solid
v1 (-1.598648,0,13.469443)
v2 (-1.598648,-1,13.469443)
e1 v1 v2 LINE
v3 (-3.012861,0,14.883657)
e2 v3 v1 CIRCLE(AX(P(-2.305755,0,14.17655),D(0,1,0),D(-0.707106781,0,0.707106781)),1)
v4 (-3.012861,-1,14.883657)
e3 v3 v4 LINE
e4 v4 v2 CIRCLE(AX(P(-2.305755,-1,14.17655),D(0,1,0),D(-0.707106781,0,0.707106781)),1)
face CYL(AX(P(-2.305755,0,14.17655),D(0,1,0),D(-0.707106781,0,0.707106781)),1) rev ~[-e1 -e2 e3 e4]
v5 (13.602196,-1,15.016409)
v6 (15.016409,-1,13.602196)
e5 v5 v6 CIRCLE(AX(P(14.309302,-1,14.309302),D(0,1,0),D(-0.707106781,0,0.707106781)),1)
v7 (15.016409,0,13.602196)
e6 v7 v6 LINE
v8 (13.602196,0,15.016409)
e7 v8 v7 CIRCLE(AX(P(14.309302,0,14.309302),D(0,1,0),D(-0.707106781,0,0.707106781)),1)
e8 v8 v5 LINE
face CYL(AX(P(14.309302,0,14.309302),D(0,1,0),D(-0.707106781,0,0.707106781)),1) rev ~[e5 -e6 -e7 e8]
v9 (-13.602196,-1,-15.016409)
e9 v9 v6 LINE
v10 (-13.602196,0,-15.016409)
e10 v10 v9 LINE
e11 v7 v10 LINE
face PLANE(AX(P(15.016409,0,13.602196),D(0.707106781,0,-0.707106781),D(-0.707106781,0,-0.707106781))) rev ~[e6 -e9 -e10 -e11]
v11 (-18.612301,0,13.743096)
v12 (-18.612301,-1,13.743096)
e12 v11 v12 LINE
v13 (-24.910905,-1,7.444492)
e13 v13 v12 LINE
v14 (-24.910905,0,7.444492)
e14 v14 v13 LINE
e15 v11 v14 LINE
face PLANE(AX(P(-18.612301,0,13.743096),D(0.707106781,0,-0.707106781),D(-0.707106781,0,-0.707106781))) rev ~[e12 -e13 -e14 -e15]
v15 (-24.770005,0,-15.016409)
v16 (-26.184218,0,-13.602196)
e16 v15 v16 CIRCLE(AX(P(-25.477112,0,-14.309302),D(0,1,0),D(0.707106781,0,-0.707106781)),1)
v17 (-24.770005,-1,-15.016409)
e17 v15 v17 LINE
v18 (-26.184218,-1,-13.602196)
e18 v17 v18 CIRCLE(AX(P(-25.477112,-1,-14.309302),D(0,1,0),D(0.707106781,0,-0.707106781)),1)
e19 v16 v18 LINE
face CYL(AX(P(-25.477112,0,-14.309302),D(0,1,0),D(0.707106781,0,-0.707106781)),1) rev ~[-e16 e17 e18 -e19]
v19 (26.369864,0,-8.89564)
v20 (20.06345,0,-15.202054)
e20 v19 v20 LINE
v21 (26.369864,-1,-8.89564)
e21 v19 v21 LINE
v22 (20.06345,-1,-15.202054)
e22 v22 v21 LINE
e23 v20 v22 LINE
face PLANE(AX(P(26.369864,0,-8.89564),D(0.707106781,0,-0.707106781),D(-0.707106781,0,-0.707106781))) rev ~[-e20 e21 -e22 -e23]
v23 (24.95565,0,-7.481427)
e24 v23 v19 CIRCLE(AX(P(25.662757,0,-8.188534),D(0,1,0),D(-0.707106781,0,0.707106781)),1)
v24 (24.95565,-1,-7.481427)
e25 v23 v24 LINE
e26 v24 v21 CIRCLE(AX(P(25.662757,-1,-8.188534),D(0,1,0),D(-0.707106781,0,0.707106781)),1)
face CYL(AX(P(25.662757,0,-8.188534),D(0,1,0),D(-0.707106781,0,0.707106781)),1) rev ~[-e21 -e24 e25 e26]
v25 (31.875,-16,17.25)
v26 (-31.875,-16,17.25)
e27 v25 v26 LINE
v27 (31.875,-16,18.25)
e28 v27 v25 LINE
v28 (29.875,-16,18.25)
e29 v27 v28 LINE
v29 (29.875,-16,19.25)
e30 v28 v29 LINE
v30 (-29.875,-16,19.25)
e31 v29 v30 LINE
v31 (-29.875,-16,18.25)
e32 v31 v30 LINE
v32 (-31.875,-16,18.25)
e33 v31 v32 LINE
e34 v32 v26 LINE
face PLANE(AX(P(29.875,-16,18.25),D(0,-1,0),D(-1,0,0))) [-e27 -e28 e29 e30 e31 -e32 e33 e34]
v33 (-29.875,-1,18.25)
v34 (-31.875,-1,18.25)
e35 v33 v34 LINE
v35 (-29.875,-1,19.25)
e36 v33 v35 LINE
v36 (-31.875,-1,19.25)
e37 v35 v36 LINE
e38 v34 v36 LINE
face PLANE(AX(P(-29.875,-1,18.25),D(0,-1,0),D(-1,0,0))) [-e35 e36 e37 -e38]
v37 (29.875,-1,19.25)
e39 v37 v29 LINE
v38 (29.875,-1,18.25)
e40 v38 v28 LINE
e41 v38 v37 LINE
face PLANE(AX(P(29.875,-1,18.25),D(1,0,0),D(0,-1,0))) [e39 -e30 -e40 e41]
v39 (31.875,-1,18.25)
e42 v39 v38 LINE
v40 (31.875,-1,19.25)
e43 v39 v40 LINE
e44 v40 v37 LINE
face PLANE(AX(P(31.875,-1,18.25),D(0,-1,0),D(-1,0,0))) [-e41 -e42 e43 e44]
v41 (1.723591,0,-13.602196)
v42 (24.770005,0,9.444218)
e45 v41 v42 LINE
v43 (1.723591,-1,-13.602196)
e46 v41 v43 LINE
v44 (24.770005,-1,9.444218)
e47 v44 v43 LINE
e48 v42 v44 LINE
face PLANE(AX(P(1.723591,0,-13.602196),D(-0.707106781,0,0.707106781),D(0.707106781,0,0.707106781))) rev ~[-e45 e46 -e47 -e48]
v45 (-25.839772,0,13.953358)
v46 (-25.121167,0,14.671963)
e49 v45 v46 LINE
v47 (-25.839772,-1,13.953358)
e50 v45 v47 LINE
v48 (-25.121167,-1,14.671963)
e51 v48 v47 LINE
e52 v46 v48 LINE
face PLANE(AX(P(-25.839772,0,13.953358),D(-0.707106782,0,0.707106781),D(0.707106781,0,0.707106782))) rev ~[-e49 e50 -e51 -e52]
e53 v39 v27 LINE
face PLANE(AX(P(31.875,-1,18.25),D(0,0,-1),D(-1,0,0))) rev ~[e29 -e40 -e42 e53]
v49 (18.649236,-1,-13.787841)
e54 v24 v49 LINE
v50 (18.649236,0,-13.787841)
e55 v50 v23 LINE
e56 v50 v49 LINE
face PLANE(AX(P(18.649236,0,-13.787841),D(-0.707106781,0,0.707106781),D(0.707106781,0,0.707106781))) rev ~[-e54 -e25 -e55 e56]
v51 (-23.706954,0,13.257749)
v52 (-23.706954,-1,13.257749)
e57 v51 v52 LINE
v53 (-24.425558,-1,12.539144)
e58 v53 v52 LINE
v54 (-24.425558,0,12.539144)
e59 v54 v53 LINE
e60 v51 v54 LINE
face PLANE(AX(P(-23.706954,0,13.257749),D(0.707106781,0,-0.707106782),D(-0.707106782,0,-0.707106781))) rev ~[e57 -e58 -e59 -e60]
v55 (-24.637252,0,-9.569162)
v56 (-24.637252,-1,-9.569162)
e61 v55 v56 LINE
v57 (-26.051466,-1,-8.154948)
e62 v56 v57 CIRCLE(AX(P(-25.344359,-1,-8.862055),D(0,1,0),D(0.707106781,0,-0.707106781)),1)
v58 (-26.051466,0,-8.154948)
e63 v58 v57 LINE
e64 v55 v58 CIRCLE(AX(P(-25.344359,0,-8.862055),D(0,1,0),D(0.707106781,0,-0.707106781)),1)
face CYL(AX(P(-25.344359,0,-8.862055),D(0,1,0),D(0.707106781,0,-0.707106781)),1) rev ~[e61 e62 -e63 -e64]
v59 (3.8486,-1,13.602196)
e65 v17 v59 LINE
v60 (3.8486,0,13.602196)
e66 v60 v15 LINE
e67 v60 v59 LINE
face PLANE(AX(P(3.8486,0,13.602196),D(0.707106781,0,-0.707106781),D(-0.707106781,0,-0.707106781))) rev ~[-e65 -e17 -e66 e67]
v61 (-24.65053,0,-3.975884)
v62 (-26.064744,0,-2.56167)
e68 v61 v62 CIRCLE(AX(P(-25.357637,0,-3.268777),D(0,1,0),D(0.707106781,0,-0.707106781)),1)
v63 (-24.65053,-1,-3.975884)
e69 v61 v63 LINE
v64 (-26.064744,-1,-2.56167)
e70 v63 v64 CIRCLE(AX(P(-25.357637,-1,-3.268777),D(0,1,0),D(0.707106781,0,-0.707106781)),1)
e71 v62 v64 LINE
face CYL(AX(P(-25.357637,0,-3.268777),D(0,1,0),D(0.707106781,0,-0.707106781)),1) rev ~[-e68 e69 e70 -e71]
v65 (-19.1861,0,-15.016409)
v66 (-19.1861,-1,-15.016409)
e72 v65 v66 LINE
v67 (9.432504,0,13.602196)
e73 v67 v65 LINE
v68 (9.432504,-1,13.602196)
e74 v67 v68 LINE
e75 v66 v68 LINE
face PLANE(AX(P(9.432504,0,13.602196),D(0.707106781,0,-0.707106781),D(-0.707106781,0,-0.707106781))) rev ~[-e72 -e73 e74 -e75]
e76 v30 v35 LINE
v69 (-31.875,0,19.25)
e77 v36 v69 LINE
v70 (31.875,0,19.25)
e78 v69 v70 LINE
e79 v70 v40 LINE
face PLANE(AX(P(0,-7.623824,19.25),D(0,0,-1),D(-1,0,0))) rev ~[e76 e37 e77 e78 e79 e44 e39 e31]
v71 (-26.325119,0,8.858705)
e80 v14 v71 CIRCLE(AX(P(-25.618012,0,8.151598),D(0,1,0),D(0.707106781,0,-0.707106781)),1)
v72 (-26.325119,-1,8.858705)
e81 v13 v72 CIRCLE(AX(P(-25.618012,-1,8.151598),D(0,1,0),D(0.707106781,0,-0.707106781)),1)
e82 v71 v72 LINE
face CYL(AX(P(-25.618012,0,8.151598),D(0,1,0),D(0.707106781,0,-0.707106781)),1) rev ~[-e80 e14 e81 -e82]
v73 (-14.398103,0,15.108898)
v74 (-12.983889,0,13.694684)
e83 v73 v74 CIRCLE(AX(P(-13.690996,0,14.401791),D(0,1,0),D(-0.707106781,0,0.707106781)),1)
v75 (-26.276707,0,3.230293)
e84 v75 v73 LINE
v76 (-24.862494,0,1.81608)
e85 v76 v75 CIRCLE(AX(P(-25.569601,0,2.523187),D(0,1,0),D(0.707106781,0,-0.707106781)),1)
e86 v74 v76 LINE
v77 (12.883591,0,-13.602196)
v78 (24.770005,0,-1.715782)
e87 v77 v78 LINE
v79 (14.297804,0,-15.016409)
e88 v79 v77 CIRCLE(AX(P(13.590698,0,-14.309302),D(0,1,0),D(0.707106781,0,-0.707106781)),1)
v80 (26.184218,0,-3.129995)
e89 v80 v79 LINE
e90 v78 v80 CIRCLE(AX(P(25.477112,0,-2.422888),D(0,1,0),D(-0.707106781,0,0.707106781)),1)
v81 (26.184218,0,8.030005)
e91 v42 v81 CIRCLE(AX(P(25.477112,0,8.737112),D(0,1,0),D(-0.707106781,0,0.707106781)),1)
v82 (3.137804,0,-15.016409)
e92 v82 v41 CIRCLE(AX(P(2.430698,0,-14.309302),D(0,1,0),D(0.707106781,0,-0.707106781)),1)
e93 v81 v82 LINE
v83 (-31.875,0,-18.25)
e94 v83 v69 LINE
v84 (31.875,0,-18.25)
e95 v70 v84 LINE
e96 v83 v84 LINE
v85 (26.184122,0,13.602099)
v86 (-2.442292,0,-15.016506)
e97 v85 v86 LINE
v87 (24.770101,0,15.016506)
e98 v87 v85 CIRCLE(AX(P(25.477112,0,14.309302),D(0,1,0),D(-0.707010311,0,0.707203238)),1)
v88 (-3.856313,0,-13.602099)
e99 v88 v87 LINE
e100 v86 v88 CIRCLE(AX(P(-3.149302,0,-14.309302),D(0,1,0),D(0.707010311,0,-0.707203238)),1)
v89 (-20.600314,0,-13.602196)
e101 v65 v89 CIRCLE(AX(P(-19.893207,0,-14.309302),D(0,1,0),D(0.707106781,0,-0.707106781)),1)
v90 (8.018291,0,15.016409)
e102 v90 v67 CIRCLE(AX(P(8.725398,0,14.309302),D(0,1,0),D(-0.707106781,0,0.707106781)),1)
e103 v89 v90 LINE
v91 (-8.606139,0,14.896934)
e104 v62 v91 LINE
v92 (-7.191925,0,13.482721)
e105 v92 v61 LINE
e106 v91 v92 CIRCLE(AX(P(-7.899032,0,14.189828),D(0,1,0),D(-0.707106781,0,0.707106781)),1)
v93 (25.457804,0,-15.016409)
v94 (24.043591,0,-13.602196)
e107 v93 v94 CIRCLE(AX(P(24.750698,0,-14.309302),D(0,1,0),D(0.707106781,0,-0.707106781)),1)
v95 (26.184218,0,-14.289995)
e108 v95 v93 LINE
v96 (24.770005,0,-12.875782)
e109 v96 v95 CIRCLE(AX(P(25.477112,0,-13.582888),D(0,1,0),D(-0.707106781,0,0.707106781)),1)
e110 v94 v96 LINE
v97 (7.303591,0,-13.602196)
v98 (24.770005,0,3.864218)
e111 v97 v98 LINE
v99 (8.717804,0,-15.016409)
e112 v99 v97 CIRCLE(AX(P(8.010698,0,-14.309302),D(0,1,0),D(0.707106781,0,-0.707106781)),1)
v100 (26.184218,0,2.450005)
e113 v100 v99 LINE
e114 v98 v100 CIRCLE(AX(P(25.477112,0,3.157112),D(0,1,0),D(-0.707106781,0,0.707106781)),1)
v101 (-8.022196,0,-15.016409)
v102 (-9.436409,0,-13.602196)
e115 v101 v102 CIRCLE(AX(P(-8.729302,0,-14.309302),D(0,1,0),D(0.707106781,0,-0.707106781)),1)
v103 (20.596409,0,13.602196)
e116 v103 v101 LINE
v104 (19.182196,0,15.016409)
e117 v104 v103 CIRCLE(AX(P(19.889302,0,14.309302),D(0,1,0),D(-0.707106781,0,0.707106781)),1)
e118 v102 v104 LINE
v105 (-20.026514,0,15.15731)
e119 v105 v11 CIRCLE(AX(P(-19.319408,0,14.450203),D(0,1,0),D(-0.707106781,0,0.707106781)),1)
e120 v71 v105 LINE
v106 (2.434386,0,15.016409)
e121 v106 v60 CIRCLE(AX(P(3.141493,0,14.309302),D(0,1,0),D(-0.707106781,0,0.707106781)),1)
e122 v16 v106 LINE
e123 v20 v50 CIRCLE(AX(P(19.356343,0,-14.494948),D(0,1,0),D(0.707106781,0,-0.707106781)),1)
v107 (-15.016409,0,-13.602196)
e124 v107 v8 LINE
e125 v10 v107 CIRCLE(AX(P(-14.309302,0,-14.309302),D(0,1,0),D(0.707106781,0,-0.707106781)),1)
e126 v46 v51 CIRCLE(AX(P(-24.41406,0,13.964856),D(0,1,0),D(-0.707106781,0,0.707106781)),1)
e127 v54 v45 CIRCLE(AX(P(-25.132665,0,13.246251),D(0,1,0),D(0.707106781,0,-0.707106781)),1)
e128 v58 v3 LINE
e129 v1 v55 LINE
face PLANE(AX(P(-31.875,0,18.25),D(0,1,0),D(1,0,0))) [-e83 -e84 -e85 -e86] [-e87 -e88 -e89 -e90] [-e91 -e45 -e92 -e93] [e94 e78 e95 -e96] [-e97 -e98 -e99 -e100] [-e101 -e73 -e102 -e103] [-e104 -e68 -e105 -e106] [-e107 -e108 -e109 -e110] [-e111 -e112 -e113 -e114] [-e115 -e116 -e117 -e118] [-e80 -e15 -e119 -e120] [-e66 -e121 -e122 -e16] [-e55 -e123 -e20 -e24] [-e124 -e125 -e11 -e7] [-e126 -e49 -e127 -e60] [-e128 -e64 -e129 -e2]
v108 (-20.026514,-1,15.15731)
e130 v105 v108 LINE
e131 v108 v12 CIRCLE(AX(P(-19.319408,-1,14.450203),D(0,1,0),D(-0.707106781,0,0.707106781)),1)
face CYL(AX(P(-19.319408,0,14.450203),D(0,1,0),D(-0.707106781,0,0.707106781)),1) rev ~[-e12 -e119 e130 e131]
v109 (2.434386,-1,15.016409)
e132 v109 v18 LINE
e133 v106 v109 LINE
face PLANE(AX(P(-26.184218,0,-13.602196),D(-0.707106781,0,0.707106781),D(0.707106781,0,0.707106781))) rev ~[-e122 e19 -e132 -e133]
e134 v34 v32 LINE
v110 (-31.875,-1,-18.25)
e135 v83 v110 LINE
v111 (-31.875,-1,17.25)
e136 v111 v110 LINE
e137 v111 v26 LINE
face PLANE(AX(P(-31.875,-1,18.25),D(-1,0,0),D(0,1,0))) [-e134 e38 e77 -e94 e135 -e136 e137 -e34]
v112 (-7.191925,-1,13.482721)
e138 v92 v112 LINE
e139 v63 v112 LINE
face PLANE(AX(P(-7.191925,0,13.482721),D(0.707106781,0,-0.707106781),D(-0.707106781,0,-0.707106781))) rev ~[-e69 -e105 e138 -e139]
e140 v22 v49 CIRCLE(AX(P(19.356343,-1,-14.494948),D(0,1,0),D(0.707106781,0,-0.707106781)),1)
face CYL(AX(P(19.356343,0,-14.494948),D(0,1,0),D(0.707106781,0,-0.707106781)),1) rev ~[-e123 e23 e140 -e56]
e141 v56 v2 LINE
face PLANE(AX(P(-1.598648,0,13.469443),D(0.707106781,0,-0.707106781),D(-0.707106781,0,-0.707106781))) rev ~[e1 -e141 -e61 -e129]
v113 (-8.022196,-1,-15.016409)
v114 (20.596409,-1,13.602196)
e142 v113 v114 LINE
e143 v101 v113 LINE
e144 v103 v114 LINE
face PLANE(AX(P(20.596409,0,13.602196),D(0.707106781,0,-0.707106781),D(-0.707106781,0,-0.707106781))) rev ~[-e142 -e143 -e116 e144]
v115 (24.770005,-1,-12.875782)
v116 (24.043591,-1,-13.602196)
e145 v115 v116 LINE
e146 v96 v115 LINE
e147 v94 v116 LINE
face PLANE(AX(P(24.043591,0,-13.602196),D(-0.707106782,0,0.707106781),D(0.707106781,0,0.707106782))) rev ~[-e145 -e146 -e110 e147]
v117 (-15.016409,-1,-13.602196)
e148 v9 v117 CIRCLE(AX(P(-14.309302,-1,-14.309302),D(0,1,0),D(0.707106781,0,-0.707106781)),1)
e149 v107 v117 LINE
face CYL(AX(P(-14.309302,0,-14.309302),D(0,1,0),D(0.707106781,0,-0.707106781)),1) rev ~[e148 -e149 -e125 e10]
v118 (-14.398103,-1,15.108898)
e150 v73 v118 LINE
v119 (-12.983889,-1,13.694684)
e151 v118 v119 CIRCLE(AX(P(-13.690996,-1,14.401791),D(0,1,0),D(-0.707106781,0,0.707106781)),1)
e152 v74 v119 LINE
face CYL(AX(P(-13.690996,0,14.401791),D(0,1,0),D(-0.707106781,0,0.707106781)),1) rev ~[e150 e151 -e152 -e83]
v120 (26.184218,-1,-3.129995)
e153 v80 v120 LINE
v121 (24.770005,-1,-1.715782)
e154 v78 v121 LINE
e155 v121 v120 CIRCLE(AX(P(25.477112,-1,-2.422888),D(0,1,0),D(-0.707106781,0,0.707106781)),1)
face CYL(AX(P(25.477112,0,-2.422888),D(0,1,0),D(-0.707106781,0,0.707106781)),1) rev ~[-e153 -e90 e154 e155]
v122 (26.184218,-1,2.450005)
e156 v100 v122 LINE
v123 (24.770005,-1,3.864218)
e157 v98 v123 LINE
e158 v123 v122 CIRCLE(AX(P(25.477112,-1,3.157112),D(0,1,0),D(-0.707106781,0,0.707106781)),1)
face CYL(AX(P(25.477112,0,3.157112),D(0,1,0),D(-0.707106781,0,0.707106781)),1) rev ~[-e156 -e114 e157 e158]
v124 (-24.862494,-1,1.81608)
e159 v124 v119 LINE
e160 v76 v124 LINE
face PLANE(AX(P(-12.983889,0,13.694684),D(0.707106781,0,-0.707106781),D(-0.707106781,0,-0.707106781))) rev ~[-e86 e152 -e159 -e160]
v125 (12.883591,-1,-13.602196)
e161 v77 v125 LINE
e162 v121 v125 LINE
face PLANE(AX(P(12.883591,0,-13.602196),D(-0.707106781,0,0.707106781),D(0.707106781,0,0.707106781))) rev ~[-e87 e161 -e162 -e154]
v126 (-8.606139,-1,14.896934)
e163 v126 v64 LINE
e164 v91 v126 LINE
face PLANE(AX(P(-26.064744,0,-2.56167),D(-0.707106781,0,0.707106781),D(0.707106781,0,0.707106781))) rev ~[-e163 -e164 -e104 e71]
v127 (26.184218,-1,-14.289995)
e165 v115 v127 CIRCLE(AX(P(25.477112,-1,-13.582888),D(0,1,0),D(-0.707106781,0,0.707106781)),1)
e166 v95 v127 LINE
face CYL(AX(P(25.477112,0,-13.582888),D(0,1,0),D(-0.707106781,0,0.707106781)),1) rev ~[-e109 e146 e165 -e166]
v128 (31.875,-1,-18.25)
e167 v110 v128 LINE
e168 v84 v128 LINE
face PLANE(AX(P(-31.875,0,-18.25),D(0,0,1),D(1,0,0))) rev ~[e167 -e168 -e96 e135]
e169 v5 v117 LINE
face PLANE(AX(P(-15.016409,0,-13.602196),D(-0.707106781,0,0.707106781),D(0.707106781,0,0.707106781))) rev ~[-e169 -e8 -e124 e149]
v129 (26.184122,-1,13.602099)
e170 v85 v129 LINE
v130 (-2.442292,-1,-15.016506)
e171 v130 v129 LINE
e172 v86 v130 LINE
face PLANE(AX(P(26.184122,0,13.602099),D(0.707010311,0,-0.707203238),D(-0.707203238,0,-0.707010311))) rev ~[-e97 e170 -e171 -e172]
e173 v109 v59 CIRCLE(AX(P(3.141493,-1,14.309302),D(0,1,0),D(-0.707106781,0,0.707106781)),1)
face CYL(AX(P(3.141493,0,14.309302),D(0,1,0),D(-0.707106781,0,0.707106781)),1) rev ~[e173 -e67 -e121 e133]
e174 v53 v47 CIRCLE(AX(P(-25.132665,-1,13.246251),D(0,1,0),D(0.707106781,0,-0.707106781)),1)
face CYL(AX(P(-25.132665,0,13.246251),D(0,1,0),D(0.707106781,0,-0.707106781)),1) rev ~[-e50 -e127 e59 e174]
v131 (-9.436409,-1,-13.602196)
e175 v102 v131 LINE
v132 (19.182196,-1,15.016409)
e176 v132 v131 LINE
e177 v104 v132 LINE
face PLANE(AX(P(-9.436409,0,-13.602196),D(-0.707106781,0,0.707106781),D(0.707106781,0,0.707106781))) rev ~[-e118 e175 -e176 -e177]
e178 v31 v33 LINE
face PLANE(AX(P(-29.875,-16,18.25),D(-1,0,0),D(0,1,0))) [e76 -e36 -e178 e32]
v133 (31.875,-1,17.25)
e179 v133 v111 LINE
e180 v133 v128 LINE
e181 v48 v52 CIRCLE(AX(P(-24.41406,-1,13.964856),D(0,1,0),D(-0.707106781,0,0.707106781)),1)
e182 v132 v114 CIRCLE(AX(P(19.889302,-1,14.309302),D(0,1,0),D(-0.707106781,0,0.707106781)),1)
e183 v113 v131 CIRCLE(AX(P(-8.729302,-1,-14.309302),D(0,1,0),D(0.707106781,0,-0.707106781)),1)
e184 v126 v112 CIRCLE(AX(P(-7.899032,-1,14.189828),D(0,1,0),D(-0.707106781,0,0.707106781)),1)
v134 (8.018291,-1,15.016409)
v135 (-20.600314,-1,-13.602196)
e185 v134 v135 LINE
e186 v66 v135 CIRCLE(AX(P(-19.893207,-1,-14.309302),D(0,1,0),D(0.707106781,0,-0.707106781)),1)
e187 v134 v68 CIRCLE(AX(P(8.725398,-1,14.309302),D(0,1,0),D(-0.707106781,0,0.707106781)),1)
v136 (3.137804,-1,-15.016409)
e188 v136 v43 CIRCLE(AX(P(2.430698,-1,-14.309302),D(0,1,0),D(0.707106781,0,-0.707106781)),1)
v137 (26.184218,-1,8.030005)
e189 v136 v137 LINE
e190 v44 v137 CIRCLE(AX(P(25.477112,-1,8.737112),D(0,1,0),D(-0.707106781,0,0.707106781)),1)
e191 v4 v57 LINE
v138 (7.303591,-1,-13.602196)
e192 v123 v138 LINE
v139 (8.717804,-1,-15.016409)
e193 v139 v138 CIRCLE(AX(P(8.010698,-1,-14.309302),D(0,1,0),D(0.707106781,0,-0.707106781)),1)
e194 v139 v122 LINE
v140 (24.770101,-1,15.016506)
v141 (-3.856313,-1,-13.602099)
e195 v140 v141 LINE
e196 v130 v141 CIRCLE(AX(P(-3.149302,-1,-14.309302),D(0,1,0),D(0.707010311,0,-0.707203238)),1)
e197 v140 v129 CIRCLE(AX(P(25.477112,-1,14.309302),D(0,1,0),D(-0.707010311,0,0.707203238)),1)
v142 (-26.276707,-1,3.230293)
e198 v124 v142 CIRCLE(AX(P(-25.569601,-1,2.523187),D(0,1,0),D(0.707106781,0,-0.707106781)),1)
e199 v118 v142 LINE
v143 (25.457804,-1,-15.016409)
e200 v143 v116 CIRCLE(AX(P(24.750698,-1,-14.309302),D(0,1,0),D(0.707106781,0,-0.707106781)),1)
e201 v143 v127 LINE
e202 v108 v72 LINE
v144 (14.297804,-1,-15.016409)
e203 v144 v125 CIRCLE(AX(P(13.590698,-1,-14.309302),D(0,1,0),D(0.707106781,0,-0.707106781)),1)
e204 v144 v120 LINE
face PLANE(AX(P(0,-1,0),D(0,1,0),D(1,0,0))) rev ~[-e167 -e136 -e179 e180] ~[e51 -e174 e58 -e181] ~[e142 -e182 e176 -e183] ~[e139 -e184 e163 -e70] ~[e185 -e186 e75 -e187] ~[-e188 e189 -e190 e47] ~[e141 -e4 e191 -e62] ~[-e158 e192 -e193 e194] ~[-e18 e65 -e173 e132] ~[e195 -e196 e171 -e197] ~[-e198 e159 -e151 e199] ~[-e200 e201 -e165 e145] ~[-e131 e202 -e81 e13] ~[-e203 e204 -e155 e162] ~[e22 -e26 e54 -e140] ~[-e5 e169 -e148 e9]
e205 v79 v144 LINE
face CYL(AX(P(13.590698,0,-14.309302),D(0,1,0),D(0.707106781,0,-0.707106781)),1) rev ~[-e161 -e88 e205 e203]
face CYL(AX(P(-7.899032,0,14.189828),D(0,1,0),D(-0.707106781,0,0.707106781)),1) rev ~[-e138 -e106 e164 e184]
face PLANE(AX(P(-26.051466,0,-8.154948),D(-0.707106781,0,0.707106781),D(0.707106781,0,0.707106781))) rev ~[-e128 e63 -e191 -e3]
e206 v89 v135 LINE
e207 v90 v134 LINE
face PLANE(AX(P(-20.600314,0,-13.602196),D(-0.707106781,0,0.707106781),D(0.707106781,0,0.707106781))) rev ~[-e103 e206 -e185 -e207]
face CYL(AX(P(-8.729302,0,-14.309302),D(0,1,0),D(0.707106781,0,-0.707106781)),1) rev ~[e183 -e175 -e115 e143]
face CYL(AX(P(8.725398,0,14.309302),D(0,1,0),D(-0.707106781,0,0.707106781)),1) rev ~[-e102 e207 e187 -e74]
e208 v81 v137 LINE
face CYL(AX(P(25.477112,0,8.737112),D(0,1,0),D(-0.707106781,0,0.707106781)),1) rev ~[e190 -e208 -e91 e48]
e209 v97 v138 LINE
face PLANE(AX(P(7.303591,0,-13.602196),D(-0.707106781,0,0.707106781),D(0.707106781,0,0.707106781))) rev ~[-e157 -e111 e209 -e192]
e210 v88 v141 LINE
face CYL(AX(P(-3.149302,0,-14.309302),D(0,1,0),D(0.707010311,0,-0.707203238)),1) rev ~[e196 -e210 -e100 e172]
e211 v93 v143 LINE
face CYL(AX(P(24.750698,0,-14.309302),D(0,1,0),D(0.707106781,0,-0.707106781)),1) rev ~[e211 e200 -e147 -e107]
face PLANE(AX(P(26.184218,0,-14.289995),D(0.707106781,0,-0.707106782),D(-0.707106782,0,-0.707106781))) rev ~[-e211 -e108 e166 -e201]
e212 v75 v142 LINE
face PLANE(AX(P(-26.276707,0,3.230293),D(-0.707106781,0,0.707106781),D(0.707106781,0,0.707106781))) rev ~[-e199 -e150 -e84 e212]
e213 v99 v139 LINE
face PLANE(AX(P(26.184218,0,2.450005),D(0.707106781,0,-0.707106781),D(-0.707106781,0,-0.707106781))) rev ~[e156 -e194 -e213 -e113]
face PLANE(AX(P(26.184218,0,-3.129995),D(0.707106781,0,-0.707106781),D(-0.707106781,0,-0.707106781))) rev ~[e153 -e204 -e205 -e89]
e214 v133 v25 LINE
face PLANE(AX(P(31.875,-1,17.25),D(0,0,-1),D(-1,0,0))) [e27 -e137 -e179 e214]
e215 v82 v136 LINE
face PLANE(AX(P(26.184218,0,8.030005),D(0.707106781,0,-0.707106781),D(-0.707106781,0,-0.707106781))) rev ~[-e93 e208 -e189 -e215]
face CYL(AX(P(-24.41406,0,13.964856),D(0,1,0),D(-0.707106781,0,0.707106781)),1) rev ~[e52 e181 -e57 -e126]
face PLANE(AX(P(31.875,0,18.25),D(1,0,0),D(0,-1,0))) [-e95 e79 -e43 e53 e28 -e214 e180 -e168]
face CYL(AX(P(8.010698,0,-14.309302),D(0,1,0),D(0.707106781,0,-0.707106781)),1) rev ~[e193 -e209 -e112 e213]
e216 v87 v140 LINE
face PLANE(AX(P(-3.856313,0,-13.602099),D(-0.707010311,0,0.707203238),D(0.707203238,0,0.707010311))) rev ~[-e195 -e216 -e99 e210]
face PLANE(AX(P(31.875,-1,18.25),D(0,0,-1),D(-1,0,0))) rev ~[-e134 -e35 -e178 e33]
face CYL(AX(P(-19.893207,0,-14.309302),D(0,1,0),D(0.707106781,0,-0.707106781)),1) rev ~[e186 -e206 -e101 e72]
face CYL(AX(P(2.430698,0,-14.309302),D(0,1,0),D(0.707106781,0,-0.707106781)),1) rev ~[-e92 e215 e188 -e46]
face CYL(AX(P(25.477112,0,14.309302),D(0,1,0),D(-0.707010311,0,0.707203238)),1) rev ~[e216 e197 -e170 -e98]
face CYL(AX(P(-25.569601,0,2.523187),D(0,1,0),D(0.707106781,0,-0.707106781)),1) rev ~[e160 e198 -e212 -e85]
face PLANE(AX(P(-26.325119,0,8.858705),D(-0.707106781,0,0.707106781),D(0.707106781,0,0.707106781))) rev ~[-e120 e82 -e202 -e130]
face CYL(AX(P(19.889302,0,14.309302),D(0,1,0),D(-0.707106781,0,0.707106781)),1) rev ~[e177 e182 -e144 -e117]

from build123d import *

# Parameters (mm, degrees)
SKETCH1_W           = 63.75
SKETCH1_H           = 36.5
BOSS_EXTRUDE1_DEPTH = 1
SKETCH2_W           = 63.75
SKETCH2_H           = 1
BOSS_EXTRUDE2_DEPTH = 15
BOSS_EXTRUDE3_DEPTH = 1
CUT_EXTRUDE1_REACH  = 18


with BuildPart() as part:
    # Sketch1 → Boss-Extrude1 (new body)
    with BuildSketch(Plane(origin=(0, 0, 0), x_dir=(1, 0, 0), z_dir=(0, 1, 0))):
        Rectangle(SKETCH1_W, SKETCH1_H)
    extrude(amount=-BOSS_EXTRUDE1_DEPTH)

    # Sketch2 → Boss-Extrude2 (add)
    with BuildSketch(Plane(origin=(0, -1, 0), x_dir=(-1, 0, 0), z_dir=(0, -1, 0))):
        with Locations((0, -17.75)):
            Rectangle(SKETCH2_W, SKETCH2_H)
    extrude(amount=BOSS_EXTRUDE2_DEPTH)

    # Sketch3 → Boss-Extrude3 (add)
    with BuildSketch(Plane.XY.offset(18.25)):
        Polygon((-31.875, 0), (31.875, 0), (31.875, -1), (29.875, -1), (29.875, -16), (-29.875, -16), (-29.875, -1), (-31.875, -1), align=None)
    extrude(amount=BOSS_EXTRUDE3_DEPTH)

    # Sketch4 → Cut-Extrude1 (cut, up to next)
    with BuildSketch(Plane(origin=(0, 0, 0), x_dir=(1, 0, 0), z_dir=(0, 1, 0)), mode=Mode.PRIVATE) as cut_extrude1_sk1:
        with BuildLine():
            Line((-23.706953695, -13.257748955), (-24.425558305, -12.539144346))
            ThreePointArc((-24.425558305, -12.539144346), (-25.839771867, -12.539144346), (-25.839771867, -13.953357908))
            Line((-25.839771867, -13.953357908), (-25.121167258, -14.671962518))
            ThreePointArc((-25.121167258, -14.671962518), (-23.706953695, -14.671962518), (-23.706953695, -13.257748955))
        make_face()
    cut_extrude1_tool1 = extrude(cut_extrude1_sk1.sketch, amount=-CUT_EXTRUDE1_REACH, mode=Mode.PRIVATE) & part.part
    add(cut_extrude1_tool1.solids().sort_by_distance((-24.773363, 0, 13.605553))[0], mode=Mode.SUBTRACT)
    # Sketch4 → Cut-Extrude1 (cut, up to next)
    with BuildSketch(Plane(origin=(0, 0, 0), x_dir=(1, 0, 0), z_dir=(0, 1, 0)), mode=Mode.PRIVATE) as cut_extrude1_sk2:
        with BuildLine():
            Line((-18.612300872, -13.743096131), (-24.910905481, -7.444491522))
            ThreePointArc((-24.910905481, -7.444491522), (-26.325119043, -7.444491522), (-26.325119043, -8.858705084))
            Line((-26.325119043, -8.858705084), (-20.026514434, -15.157309694))
            ThreePointArc((-20.026514434, -15.157309694), (-18.612300872, -15.157309694), (-18.612300872, -13.743096131))
        make_face()
    cut_extrude1_tool2 = extrude(cut_extrude1_sk2.sketch, amount=-CUT_EXTRUDE1_REACH, mode=Mode.PRIVATE) & part.part
    add(cut_extrude1_tool2.solids().sort_by_distance((-22.46871, 0, 11.300901))[0], mode=Mode.SUBTRACT)
    # Sketch4 → Cut-Extrude1 (cut, up to next)
    with BuildSketch(Plane(origin=(0, 0, 0), x_dir=(1, 0, 0), z_dir=(0, 1, 0)), mode=Mode.PRIVATE) as cut_extrude1_sk3:
        with BuildLine():
            Line((-12.983889235, -13.694684495), (-24.862493845, -1.816079885))
            ThreePointArc((-24.862493845, -1.816079885), (-26.276707407, -1.816079885), (-26.276707407, -3.230293448))
            Line((-26.276707407, -3.230293448), (-14.398102798, -15.108898057))
            ThreePointArc((-14.398102798, -15.108898057), (-12.983889235, -15.108898057), (-12.983889235, -13.694684495))
        make_face()
    cut_extrude1_tool3 = extrude(cut_extrude1_sk3.sketch, amount=-CUT_EXTRUDE1_REACH, mode=Mode.PRIVATE) & part.part
    add(cut_extrude1_tool3.solids().sort_by_distance((-19.630298, 0, 8.462489))[0], mode=Mode.SUBTRACT)
    # Sketch4 → Cut-Extrude1 (cut, up to next)
    with BuildSketch(Plane(origin=(0, 0, 0), x_dir=(1, 0, 0), z_dir=(0, 1, 0)), mode=Mode.PRIVATE) as cut_extrude1_sk4:
        with BuildLine():
            Line((-7.19192546, -13.482720719), (-24.650530069, 3.97588389))
            ThreePointArc((-24.650530069, 3.97588389), (-26.064743631, 3.97588389), (-26.064743631, 2.561670328))
            Line((-26.064743631, 2.561670328), (-8.606139022, -14.896934282))
            ThreePointArc((-8.606139022, -14.896934282), (-7.19192546, -14.896934282), (-7.19192546, -13.482720719))
        make_face()
    cut_extrude1_tool4 = extrude(cut_extrude1_sk4.sketch, amount=-CUT_EXTRUDE1_REACH, mode=Mode.PRIVATE) & part.part
    add(cut_extrude1_tool4.solids().sort_by_distance((-16.628335, 0, 5.460525))[0], mode=Mode.SUBTRACT)
    # Sketch4 → Cut-Extrude1 (cut, up to next)
    with BuildSketch(Plane(origin=(0, 0, 0), x_dir=(1, 0, 0), z_dir=(0, 1, 0)), mode=Mode.PRIVATE) as cut_extrude1_sk5:
        with BuildLine():
            Line((-1.598647721, -13.469442981), (-24.63725233, 9.569161629))
            ThreePointArc((-24.63725233, 9.569161629), (-26.051465893, 9.569161629), (-26.051465893, 8.154948066))
            Line((-26.051465893, 8.154948066), (-3.012861283, -14.883656543))
            ThreePointArc((-3.012861283, -14.883656543), (-1.598647721, -14.883656543), (-1.598647721, -13.469442981))
        make_face()
    cut_extrude1_tool5 = extrude(cut_extrude1_sk5.sketch, amount=-CUT_EXTRUDE1_REACH, mode=Mode.PRIVATE) & part.part
    add(cut_extrude1_tool5.solids().sort_by_distance((-13.825057, 0, 2.657247))[0], mode=Mode.SUBTRACT)
    # Sketch4 → Cut-Extrude1 (cut, up to next)
    with BuildSketch(Plane(origin=(0, 0, 0), x_dir=(1, 0, 0), z_dir=(0, 1, 0)), mode=Mode.PRIVATE) as cut_extrude1_sk6:
        with BuildLine():
            Line((3.848599736, -13.602195524), (-24.770004873, 15.016409086))
            ThreePointArc((-24.770004873, 15.016409086), (-26.184218436, 15.016409086), (-26.184218436, 13.602195524))
            Line((-26.184218436, 13.602195524), (2.434386174, -15.016409086))
            ThreePointArc((2.434386174, -15.016409086), (3.848599736, -15.016409086), (3.848599736, -13.602195524))
        make_face()
    cut_extrude1_tool6 = extrude(cut_extrude1_sk6.sketch, amount=-CUT_EXTRUDE1_REACH, mode=Mode.PRIVATE) & part.part
    add(cut_extrude1_tool6.solids().sort_by_distance((-11.167809, 0, 0))[0], mode=Mode.SUBTRACT)
    # Sketch4 → Cut-Extrude1 (cut, up to next)
    with BuildSketch(Plane(origin=(0, 0, 0), x_dir=(1, 0, 0), z_dir=(0, 1, 0)), mode=Mode.PRIVATE) as cut_extrude1_sk7:
        with BuildLine():
            Line((9.432504411, -13.602195524), (-19.186100198, 15.016409086))
            ThreePointArc((-19.186100198, 15.016409086), (-20.600313761, 15.016409086), (-20.600313761, 13.602195524))
            Line((-20.600313761, 13.602195524), (8.018290849, -15.016409086))
            ThreePointArc((8.018290849, -15.016409086), (9.432504411, -15.016409086), (9.432504411, -13.602195524))
        make_face()
    cut_extrude1_tool7 = extrude(cut_extrude1_sk7.sketch, amount=-CUT_EXTRUDE1_REACH, mode=Mode.PRIVATE) & part.part
    add(cut_extrude1_tool7.solids().sort_by_distance((-5.583905, 0, 0))[0], mode=Mode.SUBTRACT)
    # Sketch4 → Cut-Extrude1 (cut, up to next)
    with BuildSketch(Plane(origin=(0, 0, 0), x_dir=(1, 0, 0), z_dir=(0, 1, 0)), mode=Mode.PRIVATE) as cut_extrude1_sk8:
        with BuildLine():
            Line((15.016409086, -13.602195524), (-13.602195524, 15.016409086))
            ThreePointArc((-13.602195524, 15.016409086), (-15.016409086, 15.016409086), (-15.016409086, 13.602195524))
            Line((-15.016409086, 13.602195524), (13.602195524, -15.016409086))
            ThreePointArc((13.602195524, -15.016409086), (15.016409086, -15.016409086), (15.016409086, -13.602195524))
        make_face()
    cut_extrude1_tool8 = extrude(cut_extrude1_sk8.sketch, amount=-CUT_EXTRUDE1_REACH, mode=Mode.PRIVATE) & part.part
    add(cut_extrude1_tool8.solids().sort_by_distance((0, 0, 0))[0], mode=Mode.SUBTRACT)
    # Sketch4 → Cut-Extrude1 (cut, up to next)
    with BuildSketch(Plane(origin=(0, 0, 0), x_dir=(1, 0, 0), z_dir=(0, 1, 0)), mode=Mode.PRIVATE) as cut_extrude1_sk9:
        with BuildLine():
            Line((20.596409086, -13.602195524), (-8.022195524, 15.016409086))
            ThreePointArc((-8.022195524, 15.016409086), (-9.436409086, 15.016409086), (-9.436409086, 13.602195524))
            Line((-9.436409086, 13.602195524), (19.182195524, -15.016409086))
            ThreePointArc((19.182195524, -15.016409086), (20.596409086, -15.016409086), (20.596409086, -13.602195524))
        make_face()
    cut_extrude1_tool9 = extrude(cut_extrude1_sk9.sketch, amount=-CUT_EXTRUDE1_REACH, mode=Mode.PRIVATE) & part.part
    add(cut_extrude1_tool9.solids().sort_by_distance((5.58, 0, 0))[0], mode=Mode.SUBTRACT)
    # Sketch4 → Cut-Extrude1 (cut, up to next)
    with BuildSketch(Plane(origin=(0, 0, 0), x_dir=(1, 0, 0), z_dir=(0, 1, 0)), mode=Mode.PRIVATE) as cut_extrude1_sk10:
        with BuildLine():
            Line((26.184121966, -13.602099067), (-2.442291993, 15.016505543))
            ThreePointArc((-2.442291993, 15.016505543), (-3.856505543, 15.016312616), (-3.856312616, 13.602099067))
            Line((-3.856312616, 13.602099067), (24.770101343, -15.016505543))
            ThreePointArc((24.770101343, -15.016505543), (26.184314892, -15.016312616), (26.184121966, -13.602099067))
        make_face()
    cut_extrude1_tool10 = extrude(cut_extrude1_sk10.sketch, amount=-CUT_EXTRUDE1_REACH, mode=Mode.PRIVATE) & part.part
    add(cut_extrude1_tool10.solids().sort_by_distance((11.163905, 0, 0))[0], mode=Mode.SUBTRACT)
    # Sketch4 → Cut-Extrude1 (cut, up to next)
    with BuildSketch(Plane(origin=(0, 0, 0), x_dir=(1, 0, 0), z_dir=(0, 1, 0)), mode=Mode.PRIVATE) as cut_extrude1_sk11:
        with BuildLine():
            Line((26.184218436, -8.030004873), (3.137804476, 15.016409086))
            ThreePointArc((3.137804476, 15.016409086), (1.723590914, 15.016409086), (1.723590914, 13.602195524))
            Line((1.723590914, 13.602195524), (24.770004873, -9.444218436))
            ThreePointArc((24.770004873, -9.444218436), (26.184218436, -9.444218436), (26.184218436, -8.030004873))
        make_face()
    cut_extrude1_tool11 = extrude(cut_extrude1_sk11.sketch, amount=-CUT_EXTRUDE1_REACH, mode=Mode.PRIVATE) & part.part
    add(cut_extrude1_tool11.solids().sort_by_distance((13.953905, 0, -2.786095))[0], mode=Mode.SUBTRACT)
    # Sketch4 → Cut-Extrude1 (cut, up to next)
    with BuildSketch(Plane(origin=(0, 0, 0), x_dir=(1, 0, 0), z_dir=(0, 1, 0)), mode=Mode.PRIVATE) as cut_extrude1_sk12:
        with BuildLine():
            Line((26.184218436, -2.450004873), (8.717804476, 15.016409086))
            ThreePointArc((8.717804476, 15.016409086), (7.303590914, 15.016409086), (7.303590914, 13.602195524))
            Line((7.303590914, 13.602195524), (24.770004873, -3.864218436))
            ThreePointArc((24.770004873, -3.864218436), (26.184218436, -3.864218436), (26.184218436, -2.450004873))
        make_face()
    cut_extrude1_tool12 = extrude(cut_extrude1_sk12.sketch, amount=-CUT_EXTRUDE1_REACH, mode=Mode.PRIVATE) & part.part
    add(cut_extrude1_tool12.solids().sort_by_distance((16.743905, 0, -5.576095))[0], mode=Mode.SUBTRACT)
    # Sketch4 → Cut-Extrude1 (cut, up to next)
    with BuildSketch(Plane(origin=(0, 0, 0), x_dir=(1, 0, 0), z_dir=(0, 1, 0)), mode=Mode.PRIVATE) as cut_extrude1_sk13:
        with BuildLine():
            Line((26.184218436, 3.129995127), (14.297804476, 15.016409086))
            ThreePointArc((14.297804476, 15.016409086), (12.883590914, 15.016409086), (12.883590914, 13.602195524))
            Line((12.883590914, 13.602195524), (24.770004873, 1.715781564))
            ThreePointArc((24.770004873, 1.715781564), (26.184218436, 1.715781564), (26.184218436, 3.129995127))
        make_face()
    cut_extrude1_tool13 = extrude(cut_extrude1_sk13.sketch, amount=-CUT_EXTRUDE1_REACH, mode=Mode.PRIVATE) & part.part
    add(cut_extrude1_tool13.solids().sort_by_distance((19.533905, 0, -8.366095))[0], mode=Mode.SUBTRACT)
    # Sketch4 → Cut-Extrude1 (cut, up to next)
    with BuildSketch(Plane(origin=(0, 0, 0), x_dir=(1, 0, 0), z_dir=(0, 1, 0)), mode=Mode.PRIVATE) as cut_extrude1_sk14:
        with BuildLine():
            Line((26.369863641, 8.895640332), (20.063449682, 15.202054291))
            ThreePointArc((20.063449682, 15.202054291), (18.64923612, 15.202054291), (18.64923612, 13.787840729))
            Line((18.64923612, 13.787840729), (24.955650079, 7.48142677))
            ThreePointArc((24.955650079, 7.48142677), (26.369863641, 7.48142677), (26.369863641, 8.895640332))
        make_face()
    cut_extrude1_tool14 = extrude(cut_extrude1_sk14.sketch, amount=-CUT_EXTRUDE1_REACH, mode=Mode.PRIVATE) & part.part
    add(cut_extrude1_tool14.solids().sort_by_distance((22.50955, 0, -11.341741))[0], mode=Mode.SUBTRACT)
    # Sketch4 → Cut-Extrude1 (cut, up to next)
    with BuildSketch(Plane(origin=(0, 0, 0), x_dir=(1, 0, 0), z_dir=(0, 1, 0)), mode=Mode.PRIVATE) as cut_extrude1_sk15:
        with BuildLine():
            Line((26.184218436, 14.289995127), (25.457804476, 15.016409086))
            ThreePointArc((25.457804476, 15.016409086), (24.043590914, 15.016409086), (24.043590914, 13.602195524))
            Line((24.043590914, 13.602195524), (24.770004873, 12.875781564))
            ThreePointArc((24.770004873, 12.875781564), (26.184218436, 12.875781564), (26.184218436, 14.289995127))
        make_face()
    cut_extrude1_tool15 = extrude(cut_extrude1_sk15.sketch, amount=-CUT_EXTRUDE1_REACH, mode=Mode.PRIVATE) & part.part
    add(cut_extrude1_tool15.solids().sort_by_distance((25.113905, 0, -13.946095))[0], mode=Mode.SUBTRACT)


solid = part.part
